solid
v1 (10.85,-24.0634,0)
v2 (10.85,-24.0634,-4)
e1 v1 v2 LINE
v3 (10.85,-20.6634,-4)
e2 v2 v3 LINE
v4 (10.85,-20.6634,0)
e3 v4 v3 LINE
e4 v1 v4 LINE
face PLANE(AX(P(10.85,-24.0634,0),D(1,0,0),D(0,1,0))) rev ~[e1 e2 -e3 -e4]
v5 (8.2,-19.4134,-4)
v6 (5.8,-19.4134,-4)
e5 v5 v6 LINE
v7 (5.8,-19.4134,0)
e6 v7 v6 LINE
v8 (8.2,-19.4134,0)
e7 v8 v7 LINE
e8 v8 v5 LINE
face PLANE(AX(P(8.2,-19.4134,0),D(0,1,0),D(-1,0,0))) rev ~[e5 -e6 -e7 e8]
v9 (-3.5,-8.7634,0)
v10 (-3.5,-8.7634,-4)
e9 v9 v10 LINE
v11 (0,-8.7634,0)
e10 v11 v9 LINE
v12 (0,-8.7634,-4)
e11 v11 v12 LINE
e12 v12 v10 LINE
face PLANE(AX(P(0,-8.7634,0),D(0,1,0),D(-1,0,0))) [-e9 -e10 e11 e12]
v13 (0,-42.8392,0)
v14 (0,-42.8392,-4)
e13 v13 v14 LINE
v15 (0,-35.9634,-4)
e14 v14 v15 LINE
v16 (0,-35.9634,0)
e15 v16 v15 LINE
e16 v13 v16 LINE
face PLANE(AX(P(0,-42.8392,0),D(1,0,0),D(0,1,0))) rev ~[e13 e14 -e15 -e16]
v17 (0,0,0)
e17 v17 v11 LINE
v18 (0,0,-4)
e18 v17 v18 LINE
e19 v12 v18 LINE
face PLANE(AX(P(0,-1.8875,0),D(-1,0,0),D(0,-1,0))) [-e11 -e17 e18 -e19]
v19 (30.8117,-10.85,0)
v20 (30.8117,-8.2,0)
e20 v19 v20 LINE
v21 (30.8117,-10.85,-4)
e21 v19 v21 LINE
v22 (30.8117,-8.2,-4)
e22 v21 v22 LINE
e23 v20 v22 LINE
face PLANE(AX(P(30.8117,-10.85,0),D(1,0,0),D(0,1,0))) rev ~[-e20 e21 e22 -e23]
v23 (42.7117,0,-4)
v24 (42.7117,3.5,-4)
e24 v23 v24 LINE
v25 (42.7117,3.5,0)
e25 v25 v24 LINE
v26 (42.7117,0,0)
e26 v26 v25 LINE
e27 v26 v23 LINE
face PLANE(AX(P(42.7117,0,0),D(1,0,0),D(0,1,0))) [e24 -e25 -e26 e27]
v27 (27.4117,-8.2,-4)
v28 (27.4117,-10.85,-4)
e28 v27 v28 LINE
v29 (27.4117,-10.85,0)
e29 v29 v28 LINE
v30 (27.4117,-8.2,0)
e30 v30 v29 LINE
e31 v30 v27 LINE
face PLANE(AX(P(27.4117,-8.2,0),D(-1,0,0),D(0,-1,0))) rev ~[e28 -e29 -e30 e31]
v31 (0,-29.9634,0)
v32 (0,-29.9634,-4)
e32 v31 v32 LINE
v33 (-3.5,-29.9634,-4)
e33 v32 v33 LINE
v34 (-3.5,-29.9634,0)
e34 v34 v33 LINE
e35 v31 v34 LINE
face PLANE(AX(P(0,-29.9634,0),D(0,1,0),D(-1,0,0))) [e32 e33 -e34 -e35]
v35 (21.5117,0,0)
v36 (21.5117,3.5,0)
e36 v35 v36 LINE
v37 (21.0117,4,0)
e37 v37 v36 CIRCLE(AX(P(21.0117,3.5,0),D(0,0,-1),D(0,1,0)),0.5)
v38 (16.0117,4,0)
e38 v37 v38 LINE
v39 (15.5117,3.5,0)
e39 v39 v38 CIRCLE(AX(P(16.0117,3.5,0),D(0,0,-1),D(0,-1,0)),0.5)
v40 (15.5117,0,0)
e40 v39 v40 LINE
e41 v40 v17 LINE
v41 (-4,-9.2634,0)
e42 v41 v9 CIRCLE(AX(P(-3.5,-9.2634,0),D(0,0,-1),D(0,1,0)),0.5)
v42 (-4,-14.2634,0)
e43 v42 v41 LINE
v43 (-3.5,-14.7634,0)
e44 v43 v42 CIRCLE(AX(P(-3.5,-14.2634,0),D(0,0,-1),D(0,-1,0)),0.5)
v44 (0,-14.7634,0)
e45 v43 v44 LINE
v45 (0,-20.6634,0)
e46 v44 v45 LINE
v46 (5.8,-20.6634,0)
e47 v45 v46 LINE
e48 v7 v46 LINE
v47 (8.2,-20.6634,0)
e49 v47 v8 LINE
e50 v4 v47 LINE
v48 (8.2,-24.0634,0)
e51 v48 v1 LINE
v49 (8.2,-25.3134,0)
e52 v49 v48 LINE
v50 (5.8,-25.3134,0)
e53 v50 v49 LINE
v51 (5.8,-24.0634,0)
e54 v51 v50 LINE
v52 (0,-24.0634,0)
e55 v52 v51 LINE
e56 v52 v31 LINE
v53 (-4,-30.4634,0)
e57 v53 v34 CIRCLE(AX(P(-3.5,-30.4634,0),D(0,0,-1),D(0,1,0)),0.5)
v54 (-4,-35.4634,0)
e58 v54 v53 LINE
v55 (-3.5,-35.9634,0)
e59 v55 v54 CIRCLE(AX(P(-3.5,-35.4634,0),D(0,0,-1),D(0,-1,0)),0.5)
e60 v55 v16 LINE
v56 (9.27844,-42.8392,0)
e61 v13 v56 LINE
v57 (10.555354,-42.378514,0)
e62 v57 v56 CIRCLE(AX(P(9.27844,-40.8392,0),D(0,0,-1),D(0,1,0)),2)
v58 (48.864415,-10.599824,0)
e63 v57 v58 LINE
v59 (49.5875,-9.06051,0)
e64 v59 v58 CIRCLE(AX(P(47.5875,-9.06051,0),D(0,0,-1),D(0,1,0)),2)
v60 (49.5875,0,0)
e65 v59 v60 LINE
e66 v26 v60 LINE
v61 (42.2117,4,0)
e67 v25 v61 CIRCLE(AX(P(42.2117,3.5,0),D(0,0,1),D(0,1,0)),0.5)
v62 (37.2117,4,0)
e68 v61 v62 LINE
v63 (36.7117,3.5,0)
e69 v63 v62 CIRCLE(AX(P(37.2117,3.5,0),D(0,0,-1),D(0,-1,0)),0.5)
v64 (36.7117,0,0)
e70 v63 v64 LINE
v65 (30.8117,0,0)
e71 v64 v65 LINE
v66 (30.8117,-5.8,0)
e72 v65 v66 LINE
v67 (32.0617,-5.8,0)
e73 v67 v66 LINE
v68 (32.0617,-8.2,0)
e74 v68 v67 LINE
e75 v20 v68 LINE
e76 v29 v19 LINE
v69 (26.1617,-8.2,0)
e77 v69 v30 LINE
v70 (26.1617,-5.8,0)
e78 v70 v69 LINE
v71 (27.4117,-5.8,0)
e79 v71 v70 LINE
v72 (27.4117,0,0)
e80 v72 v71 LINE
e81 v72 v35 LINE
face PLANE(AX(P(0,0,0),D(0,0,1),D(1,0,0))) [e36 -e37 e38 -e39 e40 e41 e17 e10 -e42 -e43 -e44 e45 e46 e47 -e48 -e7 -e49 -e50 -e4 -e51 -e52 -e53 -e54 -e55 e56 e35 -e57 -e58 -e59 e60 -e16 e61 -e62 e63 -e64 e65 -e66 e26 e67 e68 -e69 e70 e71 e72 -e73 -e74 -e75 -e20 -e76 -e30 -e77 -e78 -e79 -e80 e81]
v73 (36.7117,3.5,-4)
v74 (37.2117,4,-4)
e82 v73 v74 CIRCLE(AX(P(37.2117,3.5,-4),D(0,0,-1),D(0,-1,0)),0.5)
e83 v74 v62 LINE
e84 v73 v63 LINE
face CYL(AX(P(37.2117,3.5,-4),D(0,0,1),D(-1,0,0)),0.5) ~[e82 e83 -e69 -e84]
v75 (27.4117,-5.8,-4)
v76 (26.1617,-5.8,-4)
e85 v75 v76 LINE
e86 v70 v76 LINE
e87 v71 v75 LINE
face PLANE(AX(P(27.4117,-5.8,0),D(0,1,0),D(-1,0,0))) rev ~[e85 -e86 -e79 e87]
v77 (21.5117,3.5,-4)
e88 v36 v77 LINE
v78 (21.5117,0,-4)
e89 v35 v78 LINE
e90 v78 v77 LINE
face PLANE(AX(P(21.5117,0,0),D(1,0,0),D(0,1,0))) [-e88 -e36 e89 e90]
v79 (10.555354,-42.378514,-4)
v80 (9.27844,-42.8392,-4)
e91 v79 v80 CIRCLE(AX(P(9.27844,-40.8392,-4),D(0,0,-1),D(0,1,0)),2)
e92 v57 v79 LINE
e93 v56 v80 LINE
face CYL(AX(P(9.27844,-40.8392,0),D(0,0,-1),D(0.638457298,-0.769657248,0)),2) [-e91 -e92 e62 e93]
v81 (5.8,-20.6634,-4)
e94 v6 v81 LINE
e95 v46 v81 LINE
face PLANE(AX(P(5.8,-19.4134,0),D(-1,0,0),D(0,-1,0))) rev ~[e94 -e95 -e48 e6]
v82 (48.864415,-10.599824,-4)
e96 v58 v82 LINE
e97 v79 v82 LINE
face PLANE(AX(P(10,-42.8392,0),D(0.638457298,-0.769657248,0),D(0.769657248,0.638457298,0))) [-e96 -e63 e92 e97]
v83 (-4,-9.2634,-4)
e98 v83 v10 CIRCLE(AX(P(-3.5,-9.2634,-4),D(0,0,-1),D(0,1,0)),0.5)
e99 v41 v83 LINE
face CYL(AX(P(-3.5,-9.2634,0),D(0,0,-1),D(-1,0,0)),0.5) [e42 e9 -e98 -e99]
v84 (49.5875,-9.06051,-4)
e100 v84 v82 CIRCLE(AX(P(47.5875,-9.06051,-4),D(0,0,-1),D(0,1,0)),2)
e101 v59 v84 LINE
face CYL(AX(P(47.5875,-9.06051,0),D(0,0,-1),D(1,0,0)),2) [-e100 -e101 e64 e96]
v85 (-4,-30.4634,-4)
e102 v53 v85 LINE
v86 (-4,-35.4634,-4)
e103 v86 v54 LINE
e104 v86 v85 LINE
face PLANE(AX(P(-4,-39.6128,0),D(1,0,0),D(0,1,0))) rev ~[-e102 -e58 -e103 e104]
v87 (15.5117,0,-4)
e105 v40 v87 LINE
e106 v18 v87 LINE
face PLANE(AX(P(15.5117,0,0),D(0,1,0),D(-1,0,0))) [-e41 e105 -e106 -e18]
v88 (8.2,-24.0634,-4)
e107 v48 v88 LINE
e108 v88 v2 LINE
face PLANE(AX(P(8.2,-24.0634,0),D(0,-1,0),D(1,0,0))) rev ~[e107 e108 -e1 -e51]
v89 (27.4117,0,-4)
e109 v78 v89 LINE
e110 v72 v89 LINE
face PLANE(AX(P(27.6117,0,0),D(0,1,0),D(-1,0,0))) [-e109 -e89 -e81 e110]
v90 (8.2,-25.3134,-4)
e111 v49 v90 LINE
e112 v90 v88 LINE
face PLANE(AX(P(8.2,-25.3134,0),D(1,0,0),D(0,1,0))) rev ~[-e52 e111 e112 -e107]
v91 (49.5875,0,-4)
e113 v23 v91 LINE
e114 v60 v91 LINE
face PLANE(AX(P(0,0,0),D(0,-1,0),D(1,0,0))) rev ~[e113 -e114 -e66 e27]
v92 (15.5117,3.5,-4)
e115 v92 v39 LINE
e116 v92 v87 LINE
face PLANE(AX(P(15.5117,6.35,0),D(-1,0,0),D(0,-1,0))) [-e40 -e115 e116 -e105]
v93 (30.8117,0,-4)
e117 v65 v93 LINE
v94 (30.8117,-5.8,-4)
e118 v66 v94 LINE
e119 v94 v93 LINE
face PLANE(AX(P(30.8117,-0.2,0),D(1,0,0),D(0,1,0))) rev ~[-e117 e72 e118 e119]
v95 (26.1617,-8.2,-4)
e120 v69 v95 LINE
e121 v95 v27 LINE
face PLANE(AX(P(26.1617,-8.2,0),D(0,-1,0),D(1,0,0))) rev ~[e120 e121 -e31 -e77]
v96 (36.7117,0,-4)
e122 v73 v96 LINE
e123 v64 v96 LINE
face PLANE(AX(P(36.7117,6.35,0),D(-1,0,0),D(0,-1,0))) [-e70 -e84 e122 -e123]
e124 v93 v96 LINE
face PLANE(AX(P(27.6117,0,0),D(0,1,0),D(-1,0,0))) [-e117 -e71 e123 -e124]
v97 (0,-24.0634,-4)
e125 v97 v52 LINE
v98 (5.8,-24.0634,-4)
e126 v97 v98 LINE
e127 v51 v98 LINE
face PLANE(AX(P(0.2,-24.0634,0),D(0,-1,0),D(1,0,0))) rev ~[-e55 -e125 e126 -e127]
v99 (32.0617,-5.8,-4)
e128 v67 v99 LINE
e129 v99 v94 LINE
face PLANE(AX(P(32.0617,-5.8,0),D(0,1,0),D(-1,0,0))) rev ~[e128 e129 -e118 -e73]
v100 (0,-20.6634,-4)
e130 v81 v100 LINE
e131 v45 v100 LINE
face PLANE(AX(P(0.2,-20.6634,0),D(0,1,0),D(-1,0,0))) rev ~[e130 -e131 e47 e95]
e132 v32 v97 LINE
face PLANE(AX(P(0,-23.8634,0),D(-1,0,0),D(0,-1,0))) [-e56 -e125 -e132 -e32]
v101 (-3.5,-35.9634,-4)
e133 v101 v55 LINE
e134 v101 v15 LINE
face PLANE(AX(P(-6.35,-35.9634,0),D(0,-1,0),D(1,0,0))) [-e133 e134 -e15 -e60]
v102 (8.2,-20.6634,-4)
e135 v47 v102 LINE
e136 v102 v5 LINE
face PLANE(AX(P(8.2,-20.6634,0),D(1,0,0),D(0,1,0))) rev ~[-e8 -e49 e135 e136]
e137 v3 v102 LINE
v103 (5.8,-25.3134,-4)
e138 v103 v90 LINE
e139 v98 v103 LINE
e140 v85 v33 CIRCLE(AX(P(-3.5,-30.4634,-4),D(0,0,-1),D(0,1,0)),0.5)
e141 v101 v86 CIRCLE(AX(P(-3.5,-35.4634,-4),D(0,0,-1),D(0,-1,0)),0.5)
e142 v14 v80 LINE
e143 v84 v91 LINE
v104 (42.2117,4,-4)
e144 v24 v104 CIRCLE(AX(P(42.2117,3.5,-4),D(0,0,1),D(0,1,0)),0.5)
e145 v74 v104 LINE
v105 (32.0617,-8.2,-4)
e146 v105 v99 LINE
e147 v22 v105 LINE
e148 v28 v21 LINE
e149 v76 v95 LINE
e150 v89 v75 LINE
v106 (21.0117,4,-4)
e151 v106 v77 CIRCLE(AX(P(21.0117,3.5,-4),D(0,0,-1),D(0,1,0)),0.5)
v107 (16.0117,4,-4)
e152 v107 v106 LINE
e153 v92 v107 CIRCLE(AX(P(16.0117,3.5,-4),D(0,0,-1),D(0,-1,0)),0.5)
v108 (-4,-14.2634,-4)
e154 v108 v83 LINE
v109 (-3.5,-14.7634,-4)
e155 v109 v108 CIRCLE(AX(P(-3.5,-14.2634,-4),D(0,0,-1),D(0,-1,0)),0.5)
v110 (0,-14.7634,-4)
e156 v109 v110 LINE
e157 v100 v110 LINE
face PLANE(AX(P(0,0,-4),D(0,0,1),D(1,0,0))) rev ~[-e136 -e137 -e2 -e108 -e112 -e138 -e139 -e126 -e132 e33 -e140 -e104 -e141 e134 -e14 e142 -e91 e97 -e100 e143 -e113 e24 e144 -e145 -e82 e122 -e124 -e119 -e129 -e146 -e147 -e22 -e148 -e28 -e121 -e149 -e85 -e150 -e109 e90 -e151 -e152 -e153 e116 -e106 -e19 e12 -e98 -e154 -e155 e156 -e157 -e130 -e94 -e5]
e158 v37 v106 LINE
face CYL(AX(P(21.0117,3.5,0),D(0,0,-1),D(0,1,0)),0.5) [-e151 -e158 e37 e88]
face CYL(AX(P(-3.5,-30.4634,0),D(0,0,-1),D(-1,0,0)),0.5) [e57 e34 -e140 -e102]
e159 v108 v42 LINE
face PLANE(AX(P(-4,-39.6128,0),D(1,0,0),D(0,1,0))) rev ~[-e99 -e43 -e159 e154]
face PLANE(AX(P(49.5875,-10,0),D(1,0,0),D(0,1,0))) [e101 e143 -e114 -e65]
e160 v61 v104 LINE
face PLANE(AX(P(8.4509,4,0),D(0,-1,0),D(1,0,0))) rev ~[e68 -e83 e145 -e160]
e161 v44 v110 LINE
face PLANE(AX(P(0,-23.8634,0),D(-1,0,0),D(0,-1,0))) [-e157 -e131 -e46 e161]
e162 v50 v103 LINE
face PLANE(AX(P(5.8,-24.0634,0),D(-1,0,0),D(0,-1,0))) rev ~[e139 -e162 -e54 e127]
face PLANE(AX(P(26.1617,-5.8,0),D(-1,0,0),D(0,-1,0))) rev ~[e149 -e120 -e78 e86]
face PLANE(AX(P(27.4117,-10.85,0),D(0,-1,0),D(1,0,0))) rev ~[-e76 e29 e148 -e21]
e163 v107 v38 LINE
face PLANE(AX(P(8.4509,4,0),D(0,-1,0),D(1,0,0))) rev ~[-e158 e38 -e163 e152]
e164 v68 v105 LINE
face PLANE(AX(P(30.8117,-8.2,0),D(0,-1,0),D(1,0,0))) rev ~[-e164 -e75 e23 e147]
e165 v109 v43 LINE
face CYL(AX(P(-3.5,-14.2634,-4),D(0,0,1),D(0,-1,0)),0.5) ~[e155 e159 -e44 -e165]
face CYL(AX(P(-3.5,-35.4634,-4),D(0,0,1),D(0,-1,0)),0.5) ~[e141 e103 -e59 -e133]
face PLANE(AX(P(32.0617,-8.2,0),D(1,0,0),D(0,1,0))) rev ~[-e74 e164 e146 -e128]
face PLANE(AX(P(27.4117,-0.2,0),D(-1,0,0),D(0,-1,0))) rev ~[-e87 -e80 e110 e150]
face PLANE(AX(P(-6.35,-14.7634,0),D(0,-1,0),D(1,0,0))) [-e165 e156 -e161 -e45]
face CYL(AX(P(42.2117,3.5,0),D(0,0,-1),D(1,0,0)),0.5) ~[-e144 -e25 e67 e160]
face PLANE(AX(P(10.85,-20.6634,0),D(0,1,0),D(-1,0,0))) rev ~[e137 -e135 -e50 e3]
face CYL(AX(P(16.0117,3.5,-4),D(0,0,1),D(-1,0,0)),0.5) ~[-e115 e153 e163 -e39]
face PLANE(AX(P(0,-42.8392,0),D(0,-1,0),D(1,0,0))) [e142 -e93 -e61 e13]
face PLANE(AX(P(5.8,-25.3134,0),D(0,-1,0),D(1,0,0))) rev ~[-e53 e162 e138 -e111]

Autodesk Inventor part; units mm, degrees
ref_plane "YZ Plane" through (0, 0, 0) normal (1, 0, 0) x (0, 1, 0)
ref_plane "XZ Plane" through (0, 0, 0) normal (0, 1, 0) x (-1, 0, 0)
ref_plane "XY Plane" through (0, 0, 0) normal (0, 0, 1) x (1, 0, 0)
sketch "Sketch1" plane through (0, 0, 0) normal (0, 0, 1) x (1, 0, 0)
  line L0 (0, -42.8392) -> (0, 0.8108) projected
  line L1 (0, 0) -> (49.5875, 0)
  line L2 (0, -42.8392) -> (10, -42.8392)
  line L3 (10, -42.8392) -> (49.5875, -10)
  line L4 (49.5875, -10) -> (49.5875, 0)
  line L5 (0, -42.8392) -> (0, 0)
  line L6 (0, 0) -> (49.5875, 0)
  line L7 (21.7117, 0) -> (36.5117, 0) construction
  dimension "d0" = 10
  dimension "d1" = 10
extrude "Extrusion1" add sketch "Sketch1" against normal blind 4
fillet "Fillet1" radius 2 2 edges at (49.5875, -10, -2) (10, -42.8392, -2)
sketch "Sketch2" plane through (0, 0, 0) normal (0, 0, 1) x (1, 0, 0)
  line L0 (14.6536, -1.8875) -> (0, -1.8875) construction
  line L1 (0, -1.8875) -> (0, -8.7634) projected
  line L2 (0, -8.7634) -> (-6.35, -8.7634) projected
  line L3 (-6.35, -8.7634) -> (-6.35, -14.7634) projected
  line L4 (-6.35, -14.7634) -> (0, -14.7634) projected
  line L5 (0, -14.7634) -> (0, -20.8634) projected
  line L6 (0, -20.8634) -> (6, -20.8634) projected
  line L7 (6, -20.8634) -> (6, -19.6134) projected
  line L8 (6, -19.6134) -> (8, -19.6134) projected
  line L9 (8, -19.6134) -> (8, -20.8634) projected
  line L10 (8, -20.8634) -> (10.65, -20.8634) projected
  line L11 (10.65, -20.8634) -> (10.65, -23.8634) projected
  line L12 (10.65, -23.8634) -> (8, -23.8634) projected
  line L13 (8, -23.8634) -> (8, -25.1134) projected
  line L14 (8, -25.1134) -> (6, -25.1134) projected
  line L15 (6, -25.1134) -> (6, -23.8634) projected
  line L16 (6, -23.8634) -> (0, -23.8634) projected
  line L17 (0, -23.8634) -> (0, -29.9634) projected
  line L18 (0, -29.9634) -> (-6.35, -29.9634) projected
  line L19 (-6.35, -29.9634) -> (-6.35, -35.9634) projected
  line L20 (-6.35, -35.9634) -> (0, -35.9634) projected
  line L21 (0, -35.9634) -> (0, -42.8392) projected
  line L22 (0, -42.8392) -> (14.6536, -42.8392) projected
  line L23 (14.6536, -42.8392) -> (14.6536, -1.8875) construction
  line L24 (49.5875, -14.6536) -> (49.5875, 0) projected
  line L25 (49.5875, 0) -> (42.7117, 0) projected
  line L26 (42.7117, 0) -> (42.7117, 6.35) projected
  line L27 (42.7117, 6.35) -> (36.7117, 6.35) projected
  line L28 (36.7117, 6.35) -> (36.7117, 0) projected
  line L29 (36.7117, 0) -> (30.6117, 0) projected
  line L30 (30.6117, 0) -> (30.6117, -6) projected
  line L31 (30.6117, -6) -> (31.8617, -6) projected
  line L32 (31.8617, -6) -> (31.8617, -8) projected
  line L33 (31.8617, -8) -> (30.6117, -8) projected
  line L34 (30.6117, -8) -> (30.6117, -10.65) projected
  line L35 (30.6117, -10.65) -> (27.6117, -10.65) projected
  line L36 (27.6117, -10.65) -> (27.6117, -8) projected
  line L37 (27.6117, -8) -> (26.3617, -8) projected
  line L38 (26.3617, -8) -> (26.3617, -6) projected
  line L39 (26.3617, -6) -> (27.6117, -6) projected
  line L40 (27.6117, -6) -> (27.6117, 0) projected
  line L41 (27.6117, 0) -> (21.5117, 0) projected
  line L42 (21.5117, 0) -> (21.5117, 6.35) projected
  line L43 (21.5117, 6.35) -> (15.5117, 6.35) projected
  line L44 (15.5117, 6.35) -> (15.5117, 0) projected
  line L45 (15.5117, 0) -> (8.6359, 0) projected
  line L46 (8.6359, 0) -> (8.6359, -14.6536) construction
  line L47 (8.6359, -14.6536) -> (49.5875, -14.6536) construction
  line L48 (49.5875, 0) -> (0, -42.8392)
  line L49 (8.6359, 0) -> (0, -1.8875)
  point P0 (0, 0)
extrude "Extrusion2" add sketch "Sketch2" against normal blind 4
sketch "Sketch3" plane through (0, 0, 0) normal (0, 0, 1) x (1, 0, 0)
  line L0 (14.6536, -1.8875) -> (0, -1.8875) projected
  line L1 (0, -1.8875) -> (0, -8.7634) projected
  line L2 (0, -8.7634) -> (-6.35, -8.7634) projected
  line L3 (-6.35, -8.7634) -> (-6.35, -14.7634) projected
  line L4 (-6.35, -14.7634) -> (0, -14.7634) projected
  line L5 (0, -14.7634) -> (0, -20.8634) projected
  line L6 (0, -20.8634) -> (6, -20.8634) projected
  line L7 (6, -20.8634) -> (6, -19.6134) projected
  line L8 (6, -19.6134) -> (8, -19.6134) projected
  line L9 (8, -19.6134) -> (8, -20.8634) projected
  line L10 (8, -20.8634) -> (10.65, -20.8634) projected
  line L11 (10.65, -20.8634) -> (10.65, -23.8634) projected
  line L12 (10.65, -23.8634) -> (8, -23.8634) projected
  line L13 (8, -23.8634) -> (8, -25.1134) projected
  line L14 (8, -25.1134) -> (6, -25.1134) projected
  line L15 (6, -25.1134) -> (6, -23.8634) projected
  line L16 (6, -23.8634) -> (0, -23.8634) projected
  line L17 (0, -23.8634) -> (0, -29.9634) projected
  line L18 (0, -29.9634) -> (-6.35, -29.9634) projected
  line L19 (-6.35, -29.9634) -> (-6.35, -35.9634) projected
  line L20 (-6.35, -35.9634) -> (0, -35.9634) projected
  line L21 (0, -35.9634) -> (0, -42.8392) projected
  line L22 (0, -42.8392) -> (14.6536, -42.8392) projected
  line L23 (14.6536, -42.8392) -> (14.6536, -1.8875) projected
  line L24 (49.5875, -14.6536) -> (49.5875, 0) projected
  line L25 (49.5875, 0) -> (42.7117, 0) projected
  line L26 (42.7117, 0) -> (42.7117, 6.35) projected
  line L27 (42.7117, 6.35) -> (36.7117, 6.35) projected
  line L28 (36.7117, 6.35) -> (36.7117, 0) projected
  line L29 (36.7117, 0) -> (30.6117, 0) projected
  line L30 (30.6117, 0) -> (30.6117, -6) projected
  line L31 (30.6117, -6) -> (31.8617, -6) projected
  line L32 (31.8617, -6) -> (31.8617, -8) projected
  line L33 (31.8617, -8) -> (30.6117, -8) projected
  line L34 (30.6117, -8) -> (30.6117, -10.65) projected
  line L35 (30.6117, -10.65) -> (27.6117, -10.65) projected
  line L36 (27.6117, -10.65) -> (27.6117, -8) projected
  line L37 (27.6117, -8) -> (26.3617, -8) projected
  line L38 (26.3617, -8) -> (26.3617, -6) projected
  line L39 (26.3617, -6) -> (27.6117, -6) projected
  line L40 (27.6117, -6) -> (27.6117, 0) projected
  line L41 (27.6117, 0) -> (21.5117, 0) projected
  line L42 (21.5117, 0) -> (21.5117, 6.35) projected
  line L43 (21.5117, 6.35) -> (15.5117, 6.35) projected
  line L44 (15.5117, 6.35) -> (15.5117, 0) projected
  line L45 (15.5117, 0) -> (8.6359, 0) projected
  line L46 (8.6359, 0) -> (8.6359, -14.6536) projected
  line L47 (8.6359, -14.6536) -> (49.5875, -14.6536) projected
  line L48 (0, -23.8634) -> (0, -20.8634)
  line L49 (0, -14.7634) -> (0, -29.9634) projected
  line L50 (27.6117, 0) -> (30.6117, 0)
  line L51 (36.7117, 0) -> (21.5117, 0) projected
  point P0 (0, 0)
extrude "Extrusion3" cut sketch "Sketch3" against normal blind 4 contours L6 L7 L8 L9 L10 L11 L12 L13 L14 L15 L16 L48 | L50 L30 L31 L32 L33 L34 L35 L36 L37 L38 L39 L40
sketch "Sketch4" plane through (0, 0, 0) normal (0, 0, 1) x (1, 0, 0)
  line L0 (30.6117, 0) -> (30.6117, -6) projected
  line L1 (30.6117, -6) -> (31.8617, -6) projected
  line L2 (31.8617, -6) -> (31.8617, -8) projected
  line L3 (31.8617, -8) -> (30.6117, -8) projected
  line L4 (30.6117, -8) -> (30.6117, -10.65) projected
  line L5 (30.6117, -10.65) -> (27.6117, -10.65) projected
  line L6 (27.6117, -10.65) -> (27.6117, -8) projected
  line L7 (27.6117, -8) -> (26.3617, -8) projected
  line L8 (26.3617, -8) -> (26.3617, -6) projected
  line L9 (26.3617, -6) -> (27.6117, -6) projected
  line L10 (27.6117, -6) -> (27.6117, 0) projected
  line L11 (27.6117, 0) -> (21.5117, 0) projected
  line L12 (21.5117, 0) -> (21.5117, 6.35) projected
  line L13 (21.5117, 6.35) -> (15.5117, 6.35) projected
  line L14 (15.5117, 6.35) -> (15.5117, 0) projected
  line L15 (15.5117, 0) -> (0, 0) projected
  line L16 (0, 0) -> (0, -8.7634) projected
  line L17 (0, -8.7634) -> (-6.35, -8.7634) projected
  line L18 (-6.35, -8.7634) -> (-6.35, -14.7634) projected
  line L19 (-6.35, -14.7634) -> (0, -14.7634) projected
  line L20 (0, -14.7634) -> (0, -29.9634) projected
  line L21 (0, -29.9634) -> (-6.35, -29.9634) projected
  line L22 (-6.35, -29.9634) -> (-6.35, -35.9634) projected
  line L23 (-6.35, -35.9634) -> (0, -35.9634) projected
  line L24 (0, -35.9634) -> (0, -42.8392) projected
  line L25 (0, -42.8392) -> (9.2784, -42.8392) projected
  arc A0 (9.2784, -42.8392) -> (10.5554, -42.3785) centre (9.2784, -40.8392) ccw projected
  line L26 (10.5554, -42.3785) -> (48.8645, -10.5998) projected
  arc A1 (48.8645, -10.5998) -> (49.5875, -9.0605) centre (47.5875, -9.0605) ccw projected
  line L27 (49.5875, -9.0605) -> (49.5875, 0) projected
  line L28 (49.5875, 0) -> (42.7117, 0) projected
  line L29 (42.7117, 0) -> (42.7117, 6.35) projected
  line L30 (42.7117, 6.35) -> (36.7117, 6.35) projected
  line L31 (36.7117, 6.35) -> (36.7117, 0) projected
  line L32 (36.7117, 0) -> (30.6117, 0) projected
  line L33 (6, -23.8634) -> (0, -23.8634) projected
  line L34 (0, -23.8634) -> (0, -20.8634) projected
  line L35 (0, -20.8634) -> (6, -20.8634) projected
  line L36 (6, -20.8634) -> (6, -19.6134) projected
  line L37 (6, -19.6134) -> (8, -19.6134) projected
  line L38 (8, -19.6134) -> (8, -20.8634) projected
  line L39 (8, -20.8634) -> (10.65, -20.8634) projected
  line L40 (10.65, -20.8634) -> (10.65, -23.8634) projected
  line L41 (10.65, -23.8634) -> (8, -23.8634) projected
  line L42 (8, -23.8634) -> (8, -25.1134) projected
  line L43 (8, -25.1134) -> (6, -25.1134) projected
  line L44 (6, -25.1134) -> (6, -23.8634) projected
  line L45 (36.7117, 0) -> (30.6117, 0) projected
  line L46 (27.6117, 0) -> (30.6117, 0)
  line L47 (36.9117, 0) -> (36.9117, 6.15)
  line L48 (36.9117, 6.15) -> (42.5117, 6.15)
  line L49 (42.5117, 6.15) -> (42.5117, -0.2)
  line L50 (42.5117, -0.2) -> (49.3875, -0.2)
  line L51 (49.3875, -0.2) -> (49.3875, -9.0605)
  arc A2 (48.7368, -10.4459) -> (49.3875, -9.0605) centre (47.5875, -9.0605) ccw
  line L52 (48.7368, -10.4459) -> (10.4277, -42.2246)
  arc A3 (9.2784, -42.6392) -> (10.4277, -42.2246) centre (9.2784, -40.8392) ccw
  line L53 (9.2784, -42.6392) -> (0.2, -42.6392)
  line L54 (0.2, -42.6392) -> (0.2, -35.7634)
  line L55 (0.2, -35.7634) -> (-6.15, -35.7634)
  line L56 (-6.15, -35.7634) -> (-6.15, -30.1634)
  line L57 (-6.15, -30.1634) -> (0.2, -30.1634)
  line L58 (0.2, -30.1634) -> (0.2, -14.5634)
  line L59 (0.2, -14.5634) -> (-6.15, -14.5634)
  line L60 (-6.15, -14.5634) -> (-6.15, -8.9634)
  line L61 (-6.15, -8.9634) -> (0.2, -8.9634)
  line L62 (0.2, -8.9634) -> (0.2, -0.2)
  line L63 (0.2, -0.2) -> (15.7117, -0.2)
  line L64 (15.7117, -0.2) -> (15.7117, 6.15)
  line L65 (15.7117, 6.15) -> (21.3117, 6.15)
  line L66 (21.3117, 6.15) -> (21.3117, -0.2)
  line L67 (27.4117, -0.2) -> (27.4117, -5.8)
  line L68 (27.4117, -5.8) -> (26.1617, -5.8)
  line L69 (26.1617, -5.8) -> (26.1617, -8.2)
  line L70 (26.1617, -8.2) -> (27.4117, -8.2)
  line L71 (27.4117, -8.2) -> (27.4117, -10.85)
  line L72 (27.4117, -10.85) -> (30.8117, -10.85)
  line L73 (30.8117, -10.85) -> (30.8117, -8.2)
  line L74 (30.8117, -8.2) -> (32.0617, -8.2)
  line L75 (32.0617, -8.2) -> (32.0617, -5.8)
  line L76 (32.0617, -5.8) -> (30.8117, -5.8)
  line L77 (30.8117, -5.8) -> (30.8117, 0)
  line L78 (10.85, -20.6634) -> (8.2, -20.6634)
  line L79 (8.2, -20.6634) -> (8.2, -19.4134)
  line L80 (8.2, -19.4134) -> (5.8, -19.4134)
  line L81 (5.8, -19.4134) -> (5.8, -20.6634)
  line L82 (5.8, -20.6634) -> (-0.2, -20.6634)
  line L83 (-0.2, -20.6634) -> (-0.2, -24.0634)
  line L84 (-0.2, -24.0634) -> (5.8, -24.0634)
  line L85 (5.8, -24.0634) -> (5.8, -25.3134)
  line L86 (5.8, -25.3134) -> (8.2, -25.3134)
  line L87 (8.2, -25.3134) -> (8.2, -24.0634)
  line L88 (8.2, -24.0634) -> (10.85, -24.0634)
  line L89 (10.85, -24.0634) -> (10.85, -20.6634)
  line L90 (30.8117, -0.2) -> (30.8117, 0)
  line L91 (30.8117, 0) -> (27.4117, 0)
  line L92 (27.4117, 0) -> (27.4117, -0.2)
  point P0 (0, 0)
  dimension "d9" = 0.2
  dimension "d10" = 0.2
extrude "Extrusion4" cut sketch "Sketch4" against normal blind 25.4 contours L32 L77 L76 L75 L74 L73 L72 L71 L70 L69 L68 L67 L92 L11 L10 L9 L8 L7 L6 L5 L4 L3 L2 L1 L0 | L0 L1 L2 L3 L4 L5 L6 L7 L8 L9 L10 L46 | L82 L58 L35 L20 | L20 L84 L83 L82 | L35 L58 L33 L20 | L82 L81 L80 L79 L78 L89 L88 L87 L86 L85 L84 L58 L33 L44 L43 L42 L41 L40 L39 L38 L37 L36 L35 | L33 L58 L84 L20 | L35 L36 L37 L38 L39 L40 L41 L42 L43 L44 L33 L58
sketch "Sketch5" plane through (0, 0, 0) normal (0, 0, 1) x (1, 0, 0)
  line L0 (42.9117, 4) -> (46.4125, 4)
  line L1 (-4, -102.5091) -> (-4, 2)
  line L2 (61.4276, 22.986) -> (8.4509, 22.986)
  line L3 (8.4509, 22.986) -> (8.4509, 4)
  line L4 (8.4509, 4) -> (61.4276, 4)
  line L5 (61.4276, 4) -> (61.4276, 22.986)
  line L6 (-4, 2) -> (-14.2218, 2)
  line L7 (-14.2218, 2) -> (-14.2218, -39.6128)
  line L8 (-14.2218, -39.6128) -> (-4, -39.6128)
  line L9 (-4, -39.6128) -> (-4, 2)
  point P0 (0, 0)
extrude "Extrusion5" cut sketch "Sketch5" against normal blind 25.4
fillet "Fillet2" radius 0.5 8 edges at (42.7117, 4, -2) (36.7117, 4, -2) (21.5117, 4, -2) (15.5117, 4, -2) (-4, -8.7634, -2) (-4, -14.7634, -2) (-4, -29.9634, -2) (-4, -35.9634, -2)
properties part number "motor_brace_3"
